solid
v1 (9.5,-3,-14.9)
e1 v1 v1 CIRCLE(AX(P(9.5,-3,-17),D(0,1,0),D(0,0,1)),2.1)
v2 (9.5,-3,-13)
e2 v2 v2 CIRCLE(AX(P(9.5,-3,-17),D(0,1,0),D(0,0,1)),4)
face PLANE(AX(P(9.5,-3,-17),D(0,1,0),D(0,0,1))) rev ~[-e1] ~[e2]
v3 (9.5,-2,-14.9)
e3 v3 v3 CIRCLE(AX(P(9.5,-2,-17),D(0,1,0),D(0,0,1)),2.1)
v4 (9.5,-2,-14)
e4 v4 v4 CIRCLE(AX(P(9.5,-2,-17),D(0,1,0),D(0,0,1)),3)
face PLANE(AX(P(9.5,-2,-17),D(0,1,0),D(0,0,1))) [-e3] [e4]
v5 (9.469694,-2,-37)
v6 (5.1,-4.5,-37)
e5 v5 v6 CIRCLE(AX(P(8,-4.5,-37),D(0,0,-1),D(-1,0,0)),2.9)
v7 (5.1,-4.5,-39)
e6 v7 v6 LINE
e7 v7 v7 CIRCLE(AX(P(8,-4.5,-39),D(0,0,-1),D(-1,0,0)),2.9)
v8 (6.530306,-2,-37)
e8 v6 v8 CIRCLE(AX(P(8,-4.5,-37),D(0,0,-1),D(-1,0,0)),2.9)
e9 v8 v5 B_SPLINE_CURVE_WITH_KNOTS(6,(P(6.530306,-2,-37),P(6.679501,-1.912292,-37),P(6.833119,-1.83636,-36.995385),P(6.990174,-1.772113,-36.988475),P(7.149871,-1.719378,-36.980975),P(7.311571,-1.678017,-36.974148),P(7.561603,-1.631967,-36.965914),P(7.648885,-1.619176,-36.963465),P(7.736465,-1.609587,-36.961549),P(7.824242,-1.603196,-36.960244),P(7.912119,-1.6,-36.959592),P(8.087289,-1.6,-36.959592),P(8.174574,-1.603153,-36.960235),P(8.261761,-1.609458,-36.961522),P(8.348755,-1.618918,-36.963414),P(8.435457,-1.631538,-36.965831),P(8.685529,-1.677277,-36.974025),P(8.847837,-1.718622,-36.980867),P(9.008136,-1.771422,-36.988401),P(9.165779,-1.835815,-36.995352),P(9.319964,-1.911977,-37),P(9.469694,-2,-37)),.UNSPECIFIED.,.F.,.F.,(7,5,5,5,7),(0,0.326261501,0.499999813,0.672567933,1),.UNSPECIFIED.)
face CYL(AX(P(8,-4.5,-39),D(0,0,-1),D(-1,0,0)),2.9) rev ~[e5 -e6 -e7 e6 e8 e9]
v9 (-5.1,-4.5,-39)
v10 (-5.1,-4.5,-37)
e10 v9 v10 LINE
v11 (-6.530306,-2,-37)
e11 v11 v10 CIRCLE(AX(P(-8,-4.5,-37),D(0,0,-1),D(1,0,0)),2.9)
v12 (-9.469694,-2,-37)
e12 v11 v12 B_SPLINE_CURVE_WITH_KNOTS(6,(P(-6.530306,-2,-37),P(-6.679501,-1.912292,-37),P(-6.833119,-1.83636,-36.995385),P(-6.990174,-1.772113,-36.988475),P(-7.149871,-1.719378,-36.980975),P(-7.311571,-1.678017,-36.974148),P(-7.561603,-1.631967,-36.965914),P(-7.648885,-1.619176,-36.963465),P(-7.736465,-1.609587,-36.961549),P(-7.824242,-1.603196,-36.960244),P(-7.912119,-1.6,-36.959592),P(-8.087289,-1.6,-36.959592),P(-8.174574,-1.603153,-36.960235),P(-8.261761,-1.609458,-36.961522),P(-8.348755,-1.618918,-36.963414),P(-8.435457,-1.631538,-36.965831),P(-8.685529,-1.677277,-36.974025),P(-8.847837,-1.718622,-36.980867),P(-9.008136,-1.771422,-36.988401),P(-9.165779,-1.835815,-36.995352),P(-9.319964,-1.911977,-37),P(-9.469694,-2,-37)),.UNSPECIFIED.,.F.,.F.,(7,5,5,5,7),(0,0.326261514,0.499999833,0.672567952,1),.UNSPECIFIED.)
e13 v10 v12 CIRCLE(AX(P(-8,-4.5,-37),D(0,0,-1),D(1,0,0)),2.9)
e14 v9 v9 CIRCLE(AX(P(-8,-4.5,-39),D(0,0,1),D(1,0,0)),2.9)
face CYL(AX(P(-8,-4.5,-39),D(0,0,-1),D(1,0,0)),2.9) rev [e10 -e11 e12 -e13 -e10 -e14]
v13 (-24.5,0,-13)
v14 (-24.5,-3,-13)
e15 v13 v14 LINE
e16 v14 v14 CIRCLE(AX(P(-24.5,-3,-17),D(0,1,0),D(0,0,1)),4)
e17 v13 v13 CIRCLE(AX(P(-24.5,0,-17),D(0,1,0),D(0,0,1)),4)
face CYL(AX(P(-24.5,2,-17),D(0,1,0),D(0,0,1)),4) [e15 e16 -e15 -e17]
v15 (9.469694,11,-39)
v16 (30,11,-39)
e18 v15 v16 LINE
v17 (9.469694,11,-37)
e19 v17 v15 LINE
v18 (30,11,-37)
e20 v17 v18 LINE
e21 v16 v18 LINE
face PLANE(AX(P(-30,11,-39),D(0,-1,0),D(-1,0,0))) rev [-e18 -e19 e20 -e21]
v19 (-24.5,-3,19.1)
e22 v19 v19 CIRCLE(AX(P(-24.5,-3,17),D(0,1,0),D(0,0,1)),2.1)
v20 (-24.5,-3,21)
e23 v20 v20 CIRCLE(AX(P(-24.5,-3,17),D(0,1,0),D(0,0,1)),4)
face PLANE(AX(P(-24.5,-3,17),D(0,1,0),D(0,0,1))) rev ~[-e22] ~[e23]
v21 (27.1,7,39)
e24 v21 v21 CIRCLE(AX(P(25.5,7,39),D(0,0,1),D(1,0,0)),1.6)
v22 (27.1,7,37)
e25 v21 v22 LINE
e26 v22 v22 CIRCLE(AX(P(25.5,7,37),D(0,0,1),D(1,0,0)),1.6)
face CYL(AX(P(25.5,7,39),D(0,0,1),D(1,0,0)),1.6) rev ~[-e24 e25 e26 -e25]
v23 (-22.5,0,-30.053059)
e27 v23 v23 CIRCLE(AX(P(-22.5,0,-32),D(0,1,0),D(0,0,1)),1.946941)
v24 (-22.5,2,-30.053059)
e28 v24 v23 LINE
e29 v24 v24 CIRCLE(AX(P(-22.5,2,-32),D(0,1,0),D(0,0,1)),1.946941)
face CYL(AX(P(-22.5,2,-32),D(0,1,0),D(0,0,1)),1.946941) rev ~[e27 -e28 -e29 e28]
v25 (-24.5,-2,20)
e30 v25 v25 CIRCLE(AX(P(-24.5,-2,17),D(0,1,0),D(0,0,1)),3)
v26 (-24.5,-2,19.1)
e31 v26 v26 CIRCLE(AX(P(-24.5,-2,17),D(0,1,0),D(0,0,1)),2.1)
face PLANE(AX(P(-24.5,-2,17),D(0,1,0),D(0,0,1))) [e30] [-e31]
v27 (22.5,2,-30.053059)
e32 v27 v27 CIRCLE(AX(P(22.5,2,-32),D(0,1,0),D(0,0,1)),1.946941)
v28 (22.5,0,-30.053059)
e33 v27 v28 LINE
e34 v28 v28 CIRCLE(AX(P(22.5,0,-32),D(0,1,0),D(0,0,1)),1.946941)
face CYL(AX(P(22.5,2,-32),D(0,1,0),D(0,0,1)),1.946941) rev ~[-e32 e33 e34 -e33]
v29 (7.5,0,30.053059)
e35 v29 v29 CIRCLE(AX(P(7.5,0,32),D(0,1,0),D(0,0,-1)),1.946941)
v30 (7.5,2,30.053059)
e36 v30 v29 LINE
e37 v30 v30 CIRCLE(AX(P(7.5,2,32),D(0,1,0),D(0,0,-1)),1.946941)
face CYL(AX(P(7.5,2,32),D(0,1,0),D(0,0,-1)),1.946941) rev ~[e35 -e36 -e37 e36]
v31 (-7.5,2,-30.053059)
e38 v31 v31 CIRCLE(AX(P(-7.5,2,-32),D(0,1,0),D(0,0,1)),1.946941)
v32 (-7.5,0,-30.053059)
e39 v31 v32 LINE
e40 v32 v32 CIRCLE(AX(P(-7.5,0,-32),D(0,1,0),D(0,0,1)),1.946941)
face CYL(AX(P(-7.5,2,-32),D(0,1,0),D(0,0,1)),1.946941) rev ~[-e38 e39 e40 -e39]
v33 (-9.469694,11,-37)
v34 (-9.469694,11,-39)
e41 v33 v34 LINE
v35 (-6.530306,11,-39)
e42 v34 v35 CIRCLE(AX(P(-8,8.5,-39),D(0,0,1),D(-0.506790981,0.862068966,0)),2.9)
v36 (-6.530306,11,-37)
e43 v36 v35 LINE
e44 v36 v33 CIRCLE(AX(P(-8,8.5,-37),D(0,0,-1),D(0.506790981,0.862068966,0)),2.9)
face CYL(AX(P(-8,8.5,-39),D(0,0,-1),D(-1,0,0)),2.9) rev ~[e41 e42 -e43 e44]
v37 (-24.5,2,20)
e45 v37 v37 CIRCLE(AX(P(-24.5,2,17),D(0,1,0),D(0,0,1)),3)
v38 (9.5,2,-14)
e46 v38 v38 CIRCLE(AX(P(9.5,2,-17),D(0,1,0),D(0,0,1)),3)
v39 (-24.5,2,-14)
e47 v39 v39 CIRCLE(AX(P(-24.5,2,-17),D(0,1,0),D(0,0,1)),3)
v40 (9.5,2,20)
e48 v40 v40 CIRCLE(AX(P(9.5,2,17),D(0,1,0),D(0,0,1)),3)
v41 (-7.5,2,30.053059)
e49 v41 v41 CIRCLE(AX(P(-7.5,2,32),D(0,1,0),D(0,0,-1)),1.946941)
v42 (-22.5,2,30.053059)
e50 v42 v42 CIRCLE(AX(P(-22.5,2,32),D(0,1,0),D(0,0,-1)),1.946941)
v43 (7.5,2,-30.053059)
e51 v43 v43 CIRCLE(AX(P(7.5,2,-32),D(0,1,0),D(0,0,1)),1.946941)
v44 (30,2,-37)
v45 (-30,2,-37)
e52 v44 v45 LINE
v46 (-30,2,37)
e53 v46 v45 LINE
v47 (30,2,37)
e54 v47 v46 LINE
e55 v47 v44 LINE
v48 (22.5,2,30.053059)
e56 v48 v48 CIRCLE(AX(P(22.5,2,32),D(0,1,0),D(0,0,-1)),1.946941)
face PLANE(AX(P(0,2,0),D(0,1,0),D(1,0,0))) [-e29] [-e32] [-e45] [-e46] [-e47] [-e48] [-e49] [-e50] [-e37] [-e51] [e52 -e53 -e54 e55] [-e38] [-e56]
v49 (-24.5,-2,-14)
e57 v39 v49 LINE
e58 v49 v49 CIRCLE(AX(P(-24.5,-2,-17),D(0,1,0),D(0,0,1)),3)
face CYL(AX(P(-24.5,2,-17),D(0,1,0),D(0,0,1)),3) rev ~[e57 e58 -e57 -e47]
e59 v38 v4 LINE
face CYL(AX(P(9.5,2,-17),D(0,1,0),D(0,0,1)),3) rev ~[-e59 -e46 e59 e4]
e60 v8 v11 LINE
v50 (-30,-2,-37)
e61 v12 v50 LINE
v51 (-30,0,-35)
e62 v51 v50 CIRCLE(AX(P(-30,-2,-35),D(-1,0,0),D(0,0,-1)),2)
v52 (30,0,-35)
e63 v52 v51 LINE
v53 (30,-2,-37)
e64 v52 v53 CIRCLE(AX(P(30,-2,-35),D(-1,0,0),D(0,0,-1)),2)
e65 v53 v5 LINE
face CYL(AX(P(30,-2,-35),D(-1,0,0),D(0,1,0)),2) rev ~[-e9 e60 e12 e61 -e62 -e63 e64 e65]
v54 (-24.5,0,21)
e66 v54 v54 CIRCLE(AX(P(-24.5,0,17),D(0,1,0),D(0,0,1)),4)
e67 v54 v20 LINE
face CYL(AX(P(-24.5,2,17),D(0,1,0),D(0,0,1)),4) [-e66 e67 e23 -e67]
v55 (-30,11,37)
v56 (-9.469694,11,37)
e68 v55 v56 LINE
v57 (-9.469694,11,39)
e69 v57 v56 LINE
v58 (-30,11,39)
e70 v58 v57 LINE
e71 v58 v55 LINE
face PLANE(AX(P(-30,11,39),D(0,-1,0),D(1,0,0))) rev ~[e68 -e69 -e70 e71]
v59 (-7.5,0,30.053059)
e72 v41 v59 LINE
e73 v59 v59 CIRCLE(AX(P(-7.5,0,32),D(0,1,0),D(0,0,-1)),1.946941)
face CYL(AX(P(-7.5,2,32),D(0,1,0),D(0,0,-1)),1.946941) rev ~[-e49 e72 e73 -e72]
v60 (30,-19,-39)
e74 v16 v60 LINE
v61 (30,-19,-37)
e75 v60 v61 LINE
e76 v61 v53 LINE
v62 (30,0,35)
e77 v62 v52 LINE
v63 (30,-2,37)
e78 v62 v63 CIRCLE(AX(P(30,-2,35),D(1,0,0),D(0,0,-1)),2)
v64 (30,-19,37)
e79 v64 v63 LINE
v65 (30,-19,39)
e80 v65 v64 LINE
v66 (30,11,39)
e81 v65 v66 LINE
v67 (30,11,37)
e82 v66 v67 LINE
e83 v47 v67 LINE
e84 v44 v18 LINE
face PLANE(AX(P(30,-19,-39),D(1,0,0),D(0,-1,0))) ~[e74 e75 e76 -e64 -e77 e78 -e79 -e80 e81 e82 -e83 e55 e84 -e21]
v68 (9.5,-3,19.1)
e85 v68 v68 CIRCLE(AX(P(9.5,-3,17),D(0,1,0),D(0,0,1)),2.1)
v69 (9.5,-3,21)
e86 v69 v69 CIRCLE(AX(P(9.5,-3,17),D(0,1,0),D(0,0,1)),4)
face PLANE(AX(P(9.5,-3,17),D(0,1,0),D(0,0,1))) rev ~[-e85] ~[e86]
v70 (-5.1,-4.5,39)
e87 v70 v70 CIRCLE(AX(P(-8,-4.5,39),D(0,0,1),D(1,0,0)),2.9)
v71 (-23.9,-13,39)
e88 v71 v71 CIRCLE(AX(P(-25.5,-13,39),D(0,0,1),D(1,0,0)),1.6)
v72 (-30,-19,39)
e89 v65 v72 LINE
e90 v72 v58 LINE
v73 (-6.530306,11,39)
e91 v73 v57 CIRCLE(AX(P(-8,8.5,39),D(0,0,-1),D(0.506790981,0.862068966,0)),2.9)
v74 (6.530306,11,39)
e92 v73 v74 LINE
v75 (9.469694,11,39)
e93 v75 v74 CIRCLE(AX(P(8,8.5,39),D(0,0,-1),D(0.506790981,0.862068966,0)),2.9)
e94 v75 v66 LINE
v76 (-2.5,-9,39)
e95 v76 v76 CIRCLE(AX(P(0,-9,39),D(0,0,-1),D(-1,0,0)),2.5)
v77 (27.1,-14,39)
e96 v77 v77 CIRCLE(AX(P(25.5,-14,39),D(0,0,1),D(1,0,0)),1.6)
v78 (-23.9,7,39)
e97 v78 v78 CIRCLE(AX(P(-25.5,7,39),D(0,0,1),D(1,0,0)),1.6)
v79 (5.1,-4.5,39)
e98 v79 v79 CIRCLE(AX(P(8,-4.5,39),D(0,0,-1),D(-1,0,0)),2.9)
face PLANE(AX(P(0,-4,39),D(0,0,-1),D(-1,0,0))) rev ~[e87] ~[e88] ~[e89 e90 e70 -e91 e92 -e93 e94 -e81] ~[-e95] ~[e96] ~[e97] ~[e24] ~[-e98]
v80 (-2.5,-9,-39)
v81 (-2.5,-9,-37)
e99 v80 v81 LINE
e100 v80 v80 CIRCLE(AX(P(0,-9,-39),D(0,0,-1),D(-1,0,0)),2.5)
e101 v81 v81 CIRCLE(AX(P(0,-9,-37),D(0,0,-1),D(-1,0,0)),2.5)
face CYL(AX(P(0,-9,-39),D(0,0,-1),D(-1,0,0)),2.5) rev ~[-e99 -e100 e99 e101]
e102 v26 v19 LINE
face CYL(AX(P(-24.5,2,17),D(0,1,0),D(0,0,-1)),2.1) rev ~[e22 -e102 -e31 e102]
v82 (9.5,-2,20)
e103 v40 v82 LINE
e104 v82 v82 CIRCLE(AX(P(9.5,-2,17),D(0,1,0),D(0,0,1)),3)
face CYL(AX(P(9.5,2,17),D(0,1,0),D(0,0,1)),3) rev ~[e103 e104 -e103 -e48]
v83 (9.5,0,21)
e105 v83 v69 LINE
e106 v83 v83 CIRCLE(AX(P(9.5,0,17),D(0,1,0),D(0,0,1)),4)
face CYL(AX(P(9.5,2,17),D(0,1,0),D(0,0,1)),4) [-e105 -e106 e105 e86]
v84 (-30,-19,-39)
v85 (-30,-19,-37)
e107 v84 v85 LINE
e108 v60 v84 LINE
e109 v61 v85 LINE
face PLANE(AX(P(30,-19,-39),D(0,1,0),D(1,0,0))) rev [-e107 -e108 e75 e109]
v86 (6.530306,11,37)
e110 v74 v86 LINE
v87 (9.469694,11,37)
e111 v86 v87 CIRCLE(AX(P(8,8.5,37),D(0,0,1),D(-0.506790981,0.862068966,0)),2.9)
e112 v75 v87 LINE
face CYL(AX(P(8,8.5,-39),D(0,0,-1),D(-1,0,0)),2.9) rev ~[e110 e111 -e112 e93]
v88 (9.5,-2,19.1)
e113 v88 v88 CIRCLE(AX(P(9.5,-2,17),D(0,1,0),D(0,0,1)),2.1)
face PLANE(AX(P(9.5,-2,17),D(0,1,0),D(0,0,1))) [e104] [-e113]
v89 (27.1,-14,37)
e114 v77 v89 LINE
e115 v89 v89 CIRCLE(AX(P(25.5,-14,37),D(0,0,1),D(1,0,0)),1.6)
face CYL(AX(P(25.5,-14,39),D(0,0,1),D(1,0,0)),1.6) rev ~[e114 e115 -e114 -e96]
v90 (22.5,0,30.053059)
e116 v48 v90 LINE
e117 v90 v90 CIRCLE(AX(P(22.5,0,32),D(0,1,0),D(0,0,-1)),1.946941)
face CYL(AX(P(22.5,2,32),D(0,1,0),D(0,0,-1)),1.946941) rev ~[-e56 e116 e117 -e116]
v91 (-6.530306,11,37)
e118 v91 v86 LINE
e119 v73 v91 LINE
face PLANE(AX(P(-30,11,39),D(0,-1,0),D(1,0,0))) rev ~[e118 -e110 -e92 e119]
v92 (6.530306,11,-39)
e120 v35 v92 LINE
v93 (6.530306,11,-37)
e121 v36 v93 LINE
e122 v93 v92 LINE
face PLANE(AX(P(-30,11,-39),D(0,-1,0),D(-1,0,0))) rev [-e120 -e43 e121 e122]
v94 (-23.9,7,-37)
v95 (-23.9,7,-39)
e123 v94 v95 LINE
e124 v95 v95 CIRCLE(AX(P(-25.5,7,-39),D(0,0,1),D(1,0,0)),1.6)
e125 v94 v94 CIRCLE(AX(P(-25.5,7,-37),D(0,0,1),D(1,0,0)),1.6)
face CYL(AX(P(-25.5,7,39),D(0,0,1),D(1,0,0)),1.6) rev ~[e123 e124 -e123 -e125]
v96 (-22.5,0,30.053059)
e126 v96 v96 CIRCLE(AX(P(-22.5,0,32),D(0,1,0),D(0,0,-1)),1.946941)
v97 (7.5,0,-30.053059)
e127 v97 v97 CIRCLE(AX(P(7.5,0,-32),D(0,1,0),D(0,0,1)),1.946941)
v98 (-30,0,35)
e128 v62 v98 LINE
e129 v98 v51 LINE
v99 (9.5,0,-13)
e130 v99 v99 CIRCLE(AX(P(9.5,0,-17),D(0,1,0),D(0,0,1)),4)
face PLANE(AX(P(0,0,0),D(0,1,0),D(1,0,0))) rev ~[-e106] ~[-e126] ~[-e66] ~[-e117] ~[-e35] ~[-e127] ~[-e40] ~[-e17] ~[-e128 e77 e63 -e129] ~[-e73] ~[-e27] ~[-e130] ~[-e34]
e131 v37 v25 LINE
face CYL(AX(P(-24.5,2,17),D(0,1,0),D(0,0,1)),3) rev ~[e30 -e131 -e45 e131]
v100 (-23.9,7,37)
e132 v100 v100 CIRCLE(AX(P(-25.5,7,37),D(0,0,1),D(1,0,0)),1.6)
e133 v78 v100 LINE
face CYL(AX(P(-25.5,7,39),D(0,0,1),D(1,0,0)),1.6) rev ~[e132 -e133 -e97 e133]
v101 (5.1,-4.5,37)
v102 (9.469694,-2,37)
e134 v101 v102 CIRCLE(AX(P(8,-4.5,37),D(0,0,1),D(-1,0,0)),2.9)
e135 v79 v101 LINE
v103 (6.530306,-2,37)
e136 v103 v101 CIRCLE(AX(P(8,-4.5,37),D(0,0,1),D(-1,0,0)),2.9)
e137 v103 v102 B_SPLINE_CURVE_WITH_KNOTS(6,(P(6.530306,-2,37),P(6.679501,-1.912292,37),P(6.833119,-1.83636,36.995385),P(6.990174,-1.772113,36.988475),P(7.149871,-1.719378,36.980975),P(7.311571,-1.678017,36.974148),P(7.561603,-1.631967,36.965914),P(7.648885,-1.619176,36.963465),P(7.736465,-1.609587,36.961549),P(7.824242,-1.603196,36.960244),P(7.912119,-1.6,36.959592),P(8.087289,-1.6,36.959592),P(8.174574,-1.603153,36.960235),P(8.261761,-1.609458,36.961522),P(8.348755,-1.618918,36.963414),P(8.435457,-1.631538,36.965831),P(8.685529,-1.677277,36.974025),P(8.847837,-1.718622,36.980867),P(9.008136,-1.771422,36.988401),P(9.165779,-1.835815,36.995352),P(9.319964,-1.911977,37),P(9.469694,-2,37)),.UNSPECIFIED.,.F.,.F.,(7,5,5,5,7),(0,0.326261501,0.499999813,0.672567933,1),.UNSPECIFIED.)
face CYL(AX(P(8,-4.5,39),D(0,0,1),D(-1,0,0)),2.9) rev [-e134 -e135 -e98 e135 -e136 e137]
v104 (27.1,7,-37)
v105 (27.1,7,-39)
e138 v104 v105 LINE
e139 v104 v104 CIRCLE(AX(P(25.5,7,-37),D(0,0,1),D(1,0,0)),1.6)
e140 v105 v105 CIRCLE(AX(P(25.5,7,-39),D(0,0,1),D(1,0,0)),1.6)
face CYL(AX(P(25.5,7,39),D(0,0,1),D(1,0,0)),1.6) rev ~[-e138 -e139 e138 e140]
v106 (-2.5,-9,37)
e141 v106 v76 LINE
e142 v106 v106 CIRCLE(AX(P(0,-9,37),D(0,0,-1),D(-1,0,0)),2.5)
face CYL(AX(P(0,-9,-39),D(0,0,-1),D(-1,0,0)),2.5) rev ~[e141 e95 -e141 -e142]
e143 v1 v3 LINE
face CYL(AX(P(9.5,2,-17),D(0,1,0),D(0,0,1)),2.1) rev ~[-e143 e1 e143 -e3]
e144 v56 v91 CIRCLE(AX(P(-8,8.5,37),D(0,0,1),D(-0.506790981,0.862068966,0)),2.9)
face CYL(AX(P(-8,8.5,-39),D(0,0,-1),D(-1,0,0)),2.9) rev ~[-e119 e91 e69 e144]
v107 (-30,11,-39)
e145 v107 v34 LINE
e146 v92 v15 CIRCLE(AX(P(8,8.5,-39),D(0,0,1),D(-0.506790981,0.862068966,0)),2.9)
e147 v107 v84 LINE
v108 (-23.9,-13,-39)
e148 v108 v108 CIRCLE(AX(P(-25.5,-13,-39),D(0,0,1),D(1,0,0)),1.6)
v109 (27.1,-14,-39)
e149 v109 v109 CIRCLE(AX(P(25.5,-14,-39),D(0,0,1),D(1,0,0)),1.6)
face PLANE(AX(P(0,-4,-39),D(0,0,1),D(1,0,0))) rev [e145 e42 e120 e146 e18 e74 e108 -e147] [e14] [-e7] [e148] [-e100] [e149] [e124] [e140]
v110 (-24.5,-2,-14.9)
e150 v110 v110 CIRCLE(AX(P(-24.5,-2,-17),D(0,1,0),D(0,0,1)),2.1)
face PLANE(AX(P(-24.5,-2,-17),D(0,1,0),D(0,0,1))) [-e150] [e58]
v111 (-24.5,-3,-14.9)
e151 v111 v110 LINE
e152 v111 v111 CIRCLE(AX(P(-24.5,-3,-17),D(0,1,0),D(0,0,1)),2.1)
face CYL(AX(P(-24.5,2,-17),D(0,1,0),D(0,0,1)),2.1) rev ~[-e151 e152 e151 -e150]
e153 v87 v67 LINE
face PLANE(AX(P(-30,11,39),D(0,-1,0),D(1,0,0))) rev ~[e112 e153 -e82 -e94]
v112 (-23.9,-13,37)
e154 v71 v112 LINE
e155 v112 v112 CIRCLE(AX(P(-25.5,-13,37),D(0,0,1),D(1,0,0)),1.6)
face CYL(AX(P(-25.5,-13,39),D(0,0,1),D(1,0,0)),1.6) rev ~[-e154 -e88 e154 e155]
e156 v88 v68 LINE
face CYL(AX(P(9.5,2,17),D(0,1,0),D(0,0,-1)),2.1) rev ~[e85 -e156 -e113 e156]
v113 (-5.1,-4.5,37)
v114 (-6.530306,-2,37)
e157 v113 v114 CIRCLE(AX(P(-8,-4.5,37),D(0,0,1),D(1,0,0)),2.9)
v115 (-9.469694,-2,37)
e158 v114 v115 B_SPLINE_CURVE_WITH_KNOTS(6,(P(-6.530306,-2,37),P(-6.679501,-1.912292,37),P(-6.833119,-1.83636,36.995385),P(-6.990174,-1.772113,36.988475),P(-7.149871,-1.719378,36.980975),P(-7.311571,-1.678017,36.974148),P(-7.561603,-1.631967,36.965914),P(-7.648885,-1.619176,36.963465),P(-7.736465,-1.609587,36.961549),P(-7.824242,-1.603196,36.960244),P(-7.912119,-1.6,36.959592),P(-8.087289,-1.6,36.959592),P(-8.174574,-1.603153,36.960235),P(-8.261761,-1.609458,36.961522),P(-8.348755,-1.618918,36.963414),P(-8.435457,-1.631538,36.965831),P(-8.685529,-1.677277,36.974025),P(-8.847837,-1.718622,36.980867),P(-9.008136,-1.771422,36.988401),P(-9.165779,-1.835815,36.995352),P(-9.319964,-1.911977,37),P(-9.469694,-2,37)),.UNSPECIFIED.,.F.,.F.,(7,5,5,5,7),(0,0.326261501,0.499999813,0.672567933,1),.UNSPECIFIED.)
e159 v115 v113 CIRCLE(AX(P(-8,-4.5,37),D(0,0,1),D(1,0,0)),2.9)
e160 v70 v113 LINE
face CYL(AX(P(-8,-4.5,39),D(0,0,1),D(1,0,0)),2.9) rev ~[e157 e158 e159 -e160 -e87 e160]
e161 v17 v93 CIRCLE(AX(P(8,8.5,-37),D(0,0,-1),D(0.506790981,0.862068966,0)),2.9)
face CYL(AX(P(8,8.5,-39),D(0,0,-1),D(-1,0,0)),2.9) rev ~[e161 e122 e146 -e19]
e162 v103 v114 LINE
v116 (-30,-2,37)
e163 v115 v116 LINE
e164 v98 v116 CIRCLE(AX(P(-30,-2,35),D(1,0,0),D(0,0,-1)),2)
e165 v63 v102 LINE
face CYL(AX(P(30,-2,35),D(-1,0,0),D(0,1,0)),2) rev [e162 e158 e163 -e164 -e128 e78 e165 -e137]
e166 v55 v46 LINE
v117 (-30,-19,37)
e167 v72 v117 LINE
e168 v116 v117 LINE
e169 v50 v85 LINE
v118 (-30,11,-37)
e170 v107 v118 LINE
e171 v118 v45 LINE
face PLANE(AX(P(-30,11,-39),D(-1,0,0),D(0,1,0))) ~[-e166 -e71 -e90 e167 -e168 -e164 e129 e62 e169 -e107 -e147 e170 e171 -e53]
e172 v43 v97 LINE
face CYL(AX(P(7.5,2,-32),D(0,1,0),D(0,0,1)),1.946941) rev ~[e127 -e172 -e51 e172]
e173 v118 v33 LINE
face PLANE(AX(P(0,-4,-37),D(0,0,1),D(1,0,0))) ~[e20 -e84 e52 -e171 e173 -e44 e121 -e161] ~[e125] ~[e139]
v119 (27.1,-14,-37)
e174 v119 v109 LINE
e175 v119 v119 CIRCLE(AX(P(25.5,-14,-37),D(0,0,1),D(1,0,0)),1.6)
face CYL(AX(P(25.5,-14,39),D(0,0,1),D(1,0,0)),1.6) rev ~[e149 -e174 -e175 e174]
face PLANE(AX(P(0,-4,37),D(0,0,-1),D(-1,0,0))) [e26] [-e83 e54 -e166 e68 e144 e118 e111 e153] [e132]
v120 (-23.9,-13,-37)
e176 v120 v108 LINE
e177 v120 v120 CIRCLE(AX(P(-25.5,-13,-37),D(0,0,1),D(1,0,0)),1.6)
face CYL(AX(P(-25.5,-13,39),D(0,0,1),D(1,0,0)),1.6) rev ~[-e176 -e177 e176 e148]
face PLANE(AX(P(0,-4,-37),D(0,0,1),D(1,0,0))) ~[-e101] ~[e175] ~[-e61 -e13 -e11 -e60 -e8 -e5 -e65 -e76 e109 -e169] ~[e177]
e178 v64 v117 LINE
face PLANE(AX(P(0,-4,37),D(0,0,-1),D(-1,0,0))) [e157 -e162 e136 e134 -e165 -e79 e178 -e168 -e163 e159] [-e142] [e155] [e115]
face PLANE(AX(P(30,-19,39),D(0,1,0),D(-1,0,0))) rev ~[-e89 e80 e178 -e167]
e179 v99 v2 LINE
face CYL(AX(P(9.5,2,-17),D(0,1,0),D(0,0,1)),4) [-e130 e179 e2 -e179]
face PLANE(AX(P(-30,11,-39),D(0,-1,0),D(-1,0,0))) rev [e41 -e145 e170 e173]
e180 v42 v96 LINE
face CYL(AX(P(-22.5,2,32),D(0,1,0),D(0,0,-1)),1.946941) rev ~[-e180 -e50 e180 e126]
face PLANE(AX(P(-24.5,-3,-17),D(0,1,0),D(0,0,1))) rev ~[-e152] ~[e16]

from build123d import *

# Parameters (mm, degrees)
SKETCH_1_W               = 60
SKETCH_1_H               = 78
EXTRUDE_1_DEPTH          = 2
SKETCH_2_R               = 2.1
CUT_EXTRUDE_1_DEPTH      = 12
EXTRUDE_2_DEPTH          = 2
SKETCH_4_R               = 1.6
CUT_EXTRUDE_2_DEPTH      = 126
SKETCH_5_R               = 1.946941413
CUT_EXTRUDE_3_DEPTH      = 10
SKETCH_6_R               = 4
SKETCH_6_R_2             = 2.1
EXTRUDE_3_DEPTH          = 5
FILLET_1_R               = 2
SKETCH_8_R               = 2.5
CUT_EXTRUDE_5_DEPTH      = 113
SKETCH_9_R               = 3
CUT_EXTRUDE_6_DEPTH      = 4
SKETCH_11_R              = 2.9
CUT_EXTRUDE_8_DEPTH      = 3.3
MIRROR_3_COPY_1_SKETCH_R = 2.9
MIRROR_3_COPY_1_DEPTH    = 3.3
SKETCH_12_R              = 2.9
CUT_EXTRUDE_9_DEPTH      = 87
SKETCH_13_R              = 2.9
CUT_EXTRUDE_10_DEPTH     = 87


with BuildPart() as part:
    # 草图1 → 凸台-拉伸1 (new body)
    with BuildSketch(Plane(origin=(0, 0, 0), x_dir=(1, 0, 0), z_dir=(0, 1, 0))):
        Rectangle(SKETCH_1_W, SKETCH_1_H)
    extrude(amount=EXTRUDE_1_DEPTH)

    # 草图2 → 切除-拉伸1 (cut)
    with BuildSketch(Plane(origin=(0, 2, 0), x_dir=(1, 0, 0), z_dir=(0, 1, 0))):
        with Locations(Location((-24.5, 17, 0), (0, 0, 270))):
            Circle(SKETCH_2_R)
        with Locations(Location((9.5, 17, 0), (0, 0, 270))):
            Circle(SKETCH_2_R)
        with Locations(Location((9.5, -17, 0), (0, 0, 90))):
            Circle(SKETCH_2_R)
        with Locations(Location((-24.5, -17, 0), (0, 0, 90))):
            Circle(SKETCH_2_R)
    extrude(amount=-CUT_EXTRUDE_1_DEPTH, mode=Mode.SUBTRACT)

    # 草图3 → 凸台-拉伸2 (add)
    with BuildSketch(Plane.XY.offset(39)):
        Polygon((-30, -9), (-30, 11), (30, 11), (30, -9), (30, -19), (-30, -19), align=None)
    extrude_2 = extrude(amount=-EXTRUDE_2_DEPTH)

    # 镜向1: 凸台-拉伸2 across plane
    add(extrude_2.mirror(Plane.XY))

    # 草图4 → 切除-拉伸2 (cut)
    with BuildSketch(Plane.XY.offset(39)):
        with Locations((-25.5, 7)):
            Circle(SKETCH_4_R)
        with Locations((25.5, 7)):
            Circle(SKETCH_4_R)
        with Locations((-25.5, -13)):
            Circle(SKETCH_4_R)
        with Locations((25.5, -14)):
            Circle(SKETCH_4_R)
    extrude(amount=-CUT_EXTRUDE_2_DEPTH, mode=Mode.SUBTRACT)

    # 草图5 → 切除-拉伸3 (cut)
    with BuildSketch(Plane(origin=(0, 2, 0), x_dir=(1, 0, 0), z_dir=(0, 1, 0))):
        with Locations(Location((-22.5, 32, 0), (0, 0, 270))):
            Circle(SKETCH_5_R)
        with Locations(Location((-7.5, 32, 0), (0, 0, 270))):
            Circle(SKETCH_5_R)
        with Locations(Location((7.5, 32, 0), (0, 0, 270))):
            Circle(SKETCH_5_R)
        with Locations(Location((22.5, 32, 0), (0, 0, 270))):
            Circle(SKETCH_5_R)
        with Locations(Location((22.5, -32, 0), (0, 0, 90))):
            Circle(SKETCH_5_R)
        with Locations(Location((7.5, -32, 0), (0, 0, 90))):
            Circle(SKETCH_5_R)
        with Locations(Location((-7.5, -32, 0), (0, 0, 90))):
            Circle(SKETCH_5_R)
        with Locations(Location((-22.5, -32, 0), (0, 0, 90))):
            Circle(SKETCH_5_R)
    extrude(amount=-CUT_EXTRUDE_3_DEPTH, mode=Mode.SUBTRACT)

    # 草图6 → 凸台-拉伸3 (add)
    # profile 1 of 4: a face of its own
    with BuildSketch(Plane(origin=(0, 2, 0), x_dir=(1, 0, 0), z_dir=(0, 1, 0))):
        with Locations(Location((-24.5, 17, 0), (0, 0, 270))):
            Circle(SKETCH_6_R)
        with Locations(Location((-24.5, 17, 0), (0, 0, 270))):
            Circle(SKETCH_6_R_2, mode=Mode.SUBTRACT)
    # profile 2 of 4: a face of its own
    with BuildSketch(Plane(origin=(0, 2, 0), x_dir=(1, 0, 0), z_dir=(0, 1, 0))):
        with Locations(Location((9.5, 17, 0), (0, 0, 270))):
            Circle(SKETCH_6_R)
        with Locations(Location((9.5, 17, 0), (0, 0, 270))):
            Circle(SKETCH_6_R_2, mode=Mode.SUBTRACT)
    # profile 3 of 4: a face of its own
    with BuildSketch(Plane(origin=(0, 2, 0), x_dir=(1, 0, 0), z_dir=(0, 1, 0))):
        with Locations(Location((-24.5, -17, 0), (0, 0, 270))):
            Circle(SKETCH_6_R)
        with Locations(Location((-24.5, -17, 0), (0, 0, 270))):
            Circle(SKETCH_6_R_2, mode=Mode.SUBTRACT)
    # profile 4 of 4: a face of its own
    with BuildSketch(Plane(origin=(0, 2, 0), x_dir=(1, 0, 0), z_dir=(0, 1, 0))):
        with Locations(Location((9.5, -17, 0), (0, 0, 270))):
            Circle(SKETCH_6_R)
        with Locations(Location((9.5, -17, 0), (0, 0, 270))):
            Circle(SKETCH_6_R_2, mode=Mode.SUBTRACT)
    extrude(amount=-EXTRUDE_3_DEPTH)

    # 圆角1
    fillet_1_edges = [part.edges().sort_by_distance(p)[0] for p in [
        (0, 0, 37),
        (0, 0, -37),
    ]]
    fillet(fillet_1_edges, radius=FILLET_1_R)

    # 草图8 → 切除-拉伸5 (cut)
    with BuildSketch(Plane(origin=(0, 0, -39), x_dir=(-1, 0, 0), z_dir=(0, 0, -1))):
        with Locations((0, -9)):
            Circle(SKETCH_8_R)
    extrude(amount=-CUT_EXTRUDE_5_DEPTH, mode=Mode.SUBTRACT)

    # 草图9 → 切除-拉伸6 (cut)
    with BuildSketch(Plane(origin=(0, 2, 0), x_dir=(1, 0, 0), z_dir=(0, 1, 0))):
        with Locations(Location((-24.5, -17, 0), (0, 0, 270))):
            Circle(SKETCH_9_R)
        with Locations(Location((9.5, -17, 0), (0, 0, 270))):
            Circle(SKETCH_9_R)
        with Locations(Location((-24.5, 17, 0), (0, 0, 270))):
            Circle(SKETCH_9_R)
        with Locations(Location((9.5, 17, 0), (0, 0, 270))):
            Circle(SKETCH_9_R)
    extrude(amount=-CUT_EXTRUDE_6_DEPTH, mode=Mode.SUBTRACT)

    # 草图11 → 切除-拉伸8 (cut)
    with BuildSketch(Plane(origin=(0, 0, -39), x_dir=(-1, 0, 0), z_dir=(0, 0, -1))):
        with Locations((-8, -4.5)):
            Circle(SKETCH_11_R)
    cut_extrude_8 = extrude(amount=-CUT_EXTRUDE_8_DEPTH, mode=Mode.SUBTRACT)

    # 镜向2: 切除-拉伸8 across plane
    add(cut_extrude_8.mirror(Plane(origin=(0, 0, 0), x_dir=(0, 0, 1), z_dir=(1, 0, 0))), mode=Mode.SUBTRACT)

    # 镜向3: 切除-拉伸8 across plane
    add(cut_extrude_8.mirror(Plane.XY), mode=Mode.SUBTRACT)

    # 镜向3 copy 1 sketch → 镜向3 copy 1 (cut)
    with BuildSketch(Plane.XY.offset(39)):
        with Locations((-8, -4.5)):
            Circle(MIRROR_3_COPY_1_SKETCH_R)
    extrude(amount=-MIRROR_3_COPY_1_DEPTH, mode=Mode.SUBTRACT)

    # 草图12 → 切除-拉伸9 (cut)
    with BuildSketch(Plane(origin=(0, 0, -39), x_dir=(-1, 0, 0), z_dir=(0, 0, -1))):
        with Locations((-8, 8.5)):
            Circle(SKETCH_12_R)
    extrude(amount=-CUT_EXTRUDE_9_DEPTH, mode=Mode.SUBTRACT)

    # 草图13 → 切除-拉伸10 (cut)
    with BuildSketch(Plane(origin=(0, 0, -39), x_dir=(-1, 0, 0), z_dir=(0, 0, -1))):
        with Locations((8, 8.5)):
            Circle(SKETCH_13_R)
    extrude(amount=-CUT_EXTRUDE_10_DEPTH, mode=Mode.SUBTRACT)


solid = part.part
